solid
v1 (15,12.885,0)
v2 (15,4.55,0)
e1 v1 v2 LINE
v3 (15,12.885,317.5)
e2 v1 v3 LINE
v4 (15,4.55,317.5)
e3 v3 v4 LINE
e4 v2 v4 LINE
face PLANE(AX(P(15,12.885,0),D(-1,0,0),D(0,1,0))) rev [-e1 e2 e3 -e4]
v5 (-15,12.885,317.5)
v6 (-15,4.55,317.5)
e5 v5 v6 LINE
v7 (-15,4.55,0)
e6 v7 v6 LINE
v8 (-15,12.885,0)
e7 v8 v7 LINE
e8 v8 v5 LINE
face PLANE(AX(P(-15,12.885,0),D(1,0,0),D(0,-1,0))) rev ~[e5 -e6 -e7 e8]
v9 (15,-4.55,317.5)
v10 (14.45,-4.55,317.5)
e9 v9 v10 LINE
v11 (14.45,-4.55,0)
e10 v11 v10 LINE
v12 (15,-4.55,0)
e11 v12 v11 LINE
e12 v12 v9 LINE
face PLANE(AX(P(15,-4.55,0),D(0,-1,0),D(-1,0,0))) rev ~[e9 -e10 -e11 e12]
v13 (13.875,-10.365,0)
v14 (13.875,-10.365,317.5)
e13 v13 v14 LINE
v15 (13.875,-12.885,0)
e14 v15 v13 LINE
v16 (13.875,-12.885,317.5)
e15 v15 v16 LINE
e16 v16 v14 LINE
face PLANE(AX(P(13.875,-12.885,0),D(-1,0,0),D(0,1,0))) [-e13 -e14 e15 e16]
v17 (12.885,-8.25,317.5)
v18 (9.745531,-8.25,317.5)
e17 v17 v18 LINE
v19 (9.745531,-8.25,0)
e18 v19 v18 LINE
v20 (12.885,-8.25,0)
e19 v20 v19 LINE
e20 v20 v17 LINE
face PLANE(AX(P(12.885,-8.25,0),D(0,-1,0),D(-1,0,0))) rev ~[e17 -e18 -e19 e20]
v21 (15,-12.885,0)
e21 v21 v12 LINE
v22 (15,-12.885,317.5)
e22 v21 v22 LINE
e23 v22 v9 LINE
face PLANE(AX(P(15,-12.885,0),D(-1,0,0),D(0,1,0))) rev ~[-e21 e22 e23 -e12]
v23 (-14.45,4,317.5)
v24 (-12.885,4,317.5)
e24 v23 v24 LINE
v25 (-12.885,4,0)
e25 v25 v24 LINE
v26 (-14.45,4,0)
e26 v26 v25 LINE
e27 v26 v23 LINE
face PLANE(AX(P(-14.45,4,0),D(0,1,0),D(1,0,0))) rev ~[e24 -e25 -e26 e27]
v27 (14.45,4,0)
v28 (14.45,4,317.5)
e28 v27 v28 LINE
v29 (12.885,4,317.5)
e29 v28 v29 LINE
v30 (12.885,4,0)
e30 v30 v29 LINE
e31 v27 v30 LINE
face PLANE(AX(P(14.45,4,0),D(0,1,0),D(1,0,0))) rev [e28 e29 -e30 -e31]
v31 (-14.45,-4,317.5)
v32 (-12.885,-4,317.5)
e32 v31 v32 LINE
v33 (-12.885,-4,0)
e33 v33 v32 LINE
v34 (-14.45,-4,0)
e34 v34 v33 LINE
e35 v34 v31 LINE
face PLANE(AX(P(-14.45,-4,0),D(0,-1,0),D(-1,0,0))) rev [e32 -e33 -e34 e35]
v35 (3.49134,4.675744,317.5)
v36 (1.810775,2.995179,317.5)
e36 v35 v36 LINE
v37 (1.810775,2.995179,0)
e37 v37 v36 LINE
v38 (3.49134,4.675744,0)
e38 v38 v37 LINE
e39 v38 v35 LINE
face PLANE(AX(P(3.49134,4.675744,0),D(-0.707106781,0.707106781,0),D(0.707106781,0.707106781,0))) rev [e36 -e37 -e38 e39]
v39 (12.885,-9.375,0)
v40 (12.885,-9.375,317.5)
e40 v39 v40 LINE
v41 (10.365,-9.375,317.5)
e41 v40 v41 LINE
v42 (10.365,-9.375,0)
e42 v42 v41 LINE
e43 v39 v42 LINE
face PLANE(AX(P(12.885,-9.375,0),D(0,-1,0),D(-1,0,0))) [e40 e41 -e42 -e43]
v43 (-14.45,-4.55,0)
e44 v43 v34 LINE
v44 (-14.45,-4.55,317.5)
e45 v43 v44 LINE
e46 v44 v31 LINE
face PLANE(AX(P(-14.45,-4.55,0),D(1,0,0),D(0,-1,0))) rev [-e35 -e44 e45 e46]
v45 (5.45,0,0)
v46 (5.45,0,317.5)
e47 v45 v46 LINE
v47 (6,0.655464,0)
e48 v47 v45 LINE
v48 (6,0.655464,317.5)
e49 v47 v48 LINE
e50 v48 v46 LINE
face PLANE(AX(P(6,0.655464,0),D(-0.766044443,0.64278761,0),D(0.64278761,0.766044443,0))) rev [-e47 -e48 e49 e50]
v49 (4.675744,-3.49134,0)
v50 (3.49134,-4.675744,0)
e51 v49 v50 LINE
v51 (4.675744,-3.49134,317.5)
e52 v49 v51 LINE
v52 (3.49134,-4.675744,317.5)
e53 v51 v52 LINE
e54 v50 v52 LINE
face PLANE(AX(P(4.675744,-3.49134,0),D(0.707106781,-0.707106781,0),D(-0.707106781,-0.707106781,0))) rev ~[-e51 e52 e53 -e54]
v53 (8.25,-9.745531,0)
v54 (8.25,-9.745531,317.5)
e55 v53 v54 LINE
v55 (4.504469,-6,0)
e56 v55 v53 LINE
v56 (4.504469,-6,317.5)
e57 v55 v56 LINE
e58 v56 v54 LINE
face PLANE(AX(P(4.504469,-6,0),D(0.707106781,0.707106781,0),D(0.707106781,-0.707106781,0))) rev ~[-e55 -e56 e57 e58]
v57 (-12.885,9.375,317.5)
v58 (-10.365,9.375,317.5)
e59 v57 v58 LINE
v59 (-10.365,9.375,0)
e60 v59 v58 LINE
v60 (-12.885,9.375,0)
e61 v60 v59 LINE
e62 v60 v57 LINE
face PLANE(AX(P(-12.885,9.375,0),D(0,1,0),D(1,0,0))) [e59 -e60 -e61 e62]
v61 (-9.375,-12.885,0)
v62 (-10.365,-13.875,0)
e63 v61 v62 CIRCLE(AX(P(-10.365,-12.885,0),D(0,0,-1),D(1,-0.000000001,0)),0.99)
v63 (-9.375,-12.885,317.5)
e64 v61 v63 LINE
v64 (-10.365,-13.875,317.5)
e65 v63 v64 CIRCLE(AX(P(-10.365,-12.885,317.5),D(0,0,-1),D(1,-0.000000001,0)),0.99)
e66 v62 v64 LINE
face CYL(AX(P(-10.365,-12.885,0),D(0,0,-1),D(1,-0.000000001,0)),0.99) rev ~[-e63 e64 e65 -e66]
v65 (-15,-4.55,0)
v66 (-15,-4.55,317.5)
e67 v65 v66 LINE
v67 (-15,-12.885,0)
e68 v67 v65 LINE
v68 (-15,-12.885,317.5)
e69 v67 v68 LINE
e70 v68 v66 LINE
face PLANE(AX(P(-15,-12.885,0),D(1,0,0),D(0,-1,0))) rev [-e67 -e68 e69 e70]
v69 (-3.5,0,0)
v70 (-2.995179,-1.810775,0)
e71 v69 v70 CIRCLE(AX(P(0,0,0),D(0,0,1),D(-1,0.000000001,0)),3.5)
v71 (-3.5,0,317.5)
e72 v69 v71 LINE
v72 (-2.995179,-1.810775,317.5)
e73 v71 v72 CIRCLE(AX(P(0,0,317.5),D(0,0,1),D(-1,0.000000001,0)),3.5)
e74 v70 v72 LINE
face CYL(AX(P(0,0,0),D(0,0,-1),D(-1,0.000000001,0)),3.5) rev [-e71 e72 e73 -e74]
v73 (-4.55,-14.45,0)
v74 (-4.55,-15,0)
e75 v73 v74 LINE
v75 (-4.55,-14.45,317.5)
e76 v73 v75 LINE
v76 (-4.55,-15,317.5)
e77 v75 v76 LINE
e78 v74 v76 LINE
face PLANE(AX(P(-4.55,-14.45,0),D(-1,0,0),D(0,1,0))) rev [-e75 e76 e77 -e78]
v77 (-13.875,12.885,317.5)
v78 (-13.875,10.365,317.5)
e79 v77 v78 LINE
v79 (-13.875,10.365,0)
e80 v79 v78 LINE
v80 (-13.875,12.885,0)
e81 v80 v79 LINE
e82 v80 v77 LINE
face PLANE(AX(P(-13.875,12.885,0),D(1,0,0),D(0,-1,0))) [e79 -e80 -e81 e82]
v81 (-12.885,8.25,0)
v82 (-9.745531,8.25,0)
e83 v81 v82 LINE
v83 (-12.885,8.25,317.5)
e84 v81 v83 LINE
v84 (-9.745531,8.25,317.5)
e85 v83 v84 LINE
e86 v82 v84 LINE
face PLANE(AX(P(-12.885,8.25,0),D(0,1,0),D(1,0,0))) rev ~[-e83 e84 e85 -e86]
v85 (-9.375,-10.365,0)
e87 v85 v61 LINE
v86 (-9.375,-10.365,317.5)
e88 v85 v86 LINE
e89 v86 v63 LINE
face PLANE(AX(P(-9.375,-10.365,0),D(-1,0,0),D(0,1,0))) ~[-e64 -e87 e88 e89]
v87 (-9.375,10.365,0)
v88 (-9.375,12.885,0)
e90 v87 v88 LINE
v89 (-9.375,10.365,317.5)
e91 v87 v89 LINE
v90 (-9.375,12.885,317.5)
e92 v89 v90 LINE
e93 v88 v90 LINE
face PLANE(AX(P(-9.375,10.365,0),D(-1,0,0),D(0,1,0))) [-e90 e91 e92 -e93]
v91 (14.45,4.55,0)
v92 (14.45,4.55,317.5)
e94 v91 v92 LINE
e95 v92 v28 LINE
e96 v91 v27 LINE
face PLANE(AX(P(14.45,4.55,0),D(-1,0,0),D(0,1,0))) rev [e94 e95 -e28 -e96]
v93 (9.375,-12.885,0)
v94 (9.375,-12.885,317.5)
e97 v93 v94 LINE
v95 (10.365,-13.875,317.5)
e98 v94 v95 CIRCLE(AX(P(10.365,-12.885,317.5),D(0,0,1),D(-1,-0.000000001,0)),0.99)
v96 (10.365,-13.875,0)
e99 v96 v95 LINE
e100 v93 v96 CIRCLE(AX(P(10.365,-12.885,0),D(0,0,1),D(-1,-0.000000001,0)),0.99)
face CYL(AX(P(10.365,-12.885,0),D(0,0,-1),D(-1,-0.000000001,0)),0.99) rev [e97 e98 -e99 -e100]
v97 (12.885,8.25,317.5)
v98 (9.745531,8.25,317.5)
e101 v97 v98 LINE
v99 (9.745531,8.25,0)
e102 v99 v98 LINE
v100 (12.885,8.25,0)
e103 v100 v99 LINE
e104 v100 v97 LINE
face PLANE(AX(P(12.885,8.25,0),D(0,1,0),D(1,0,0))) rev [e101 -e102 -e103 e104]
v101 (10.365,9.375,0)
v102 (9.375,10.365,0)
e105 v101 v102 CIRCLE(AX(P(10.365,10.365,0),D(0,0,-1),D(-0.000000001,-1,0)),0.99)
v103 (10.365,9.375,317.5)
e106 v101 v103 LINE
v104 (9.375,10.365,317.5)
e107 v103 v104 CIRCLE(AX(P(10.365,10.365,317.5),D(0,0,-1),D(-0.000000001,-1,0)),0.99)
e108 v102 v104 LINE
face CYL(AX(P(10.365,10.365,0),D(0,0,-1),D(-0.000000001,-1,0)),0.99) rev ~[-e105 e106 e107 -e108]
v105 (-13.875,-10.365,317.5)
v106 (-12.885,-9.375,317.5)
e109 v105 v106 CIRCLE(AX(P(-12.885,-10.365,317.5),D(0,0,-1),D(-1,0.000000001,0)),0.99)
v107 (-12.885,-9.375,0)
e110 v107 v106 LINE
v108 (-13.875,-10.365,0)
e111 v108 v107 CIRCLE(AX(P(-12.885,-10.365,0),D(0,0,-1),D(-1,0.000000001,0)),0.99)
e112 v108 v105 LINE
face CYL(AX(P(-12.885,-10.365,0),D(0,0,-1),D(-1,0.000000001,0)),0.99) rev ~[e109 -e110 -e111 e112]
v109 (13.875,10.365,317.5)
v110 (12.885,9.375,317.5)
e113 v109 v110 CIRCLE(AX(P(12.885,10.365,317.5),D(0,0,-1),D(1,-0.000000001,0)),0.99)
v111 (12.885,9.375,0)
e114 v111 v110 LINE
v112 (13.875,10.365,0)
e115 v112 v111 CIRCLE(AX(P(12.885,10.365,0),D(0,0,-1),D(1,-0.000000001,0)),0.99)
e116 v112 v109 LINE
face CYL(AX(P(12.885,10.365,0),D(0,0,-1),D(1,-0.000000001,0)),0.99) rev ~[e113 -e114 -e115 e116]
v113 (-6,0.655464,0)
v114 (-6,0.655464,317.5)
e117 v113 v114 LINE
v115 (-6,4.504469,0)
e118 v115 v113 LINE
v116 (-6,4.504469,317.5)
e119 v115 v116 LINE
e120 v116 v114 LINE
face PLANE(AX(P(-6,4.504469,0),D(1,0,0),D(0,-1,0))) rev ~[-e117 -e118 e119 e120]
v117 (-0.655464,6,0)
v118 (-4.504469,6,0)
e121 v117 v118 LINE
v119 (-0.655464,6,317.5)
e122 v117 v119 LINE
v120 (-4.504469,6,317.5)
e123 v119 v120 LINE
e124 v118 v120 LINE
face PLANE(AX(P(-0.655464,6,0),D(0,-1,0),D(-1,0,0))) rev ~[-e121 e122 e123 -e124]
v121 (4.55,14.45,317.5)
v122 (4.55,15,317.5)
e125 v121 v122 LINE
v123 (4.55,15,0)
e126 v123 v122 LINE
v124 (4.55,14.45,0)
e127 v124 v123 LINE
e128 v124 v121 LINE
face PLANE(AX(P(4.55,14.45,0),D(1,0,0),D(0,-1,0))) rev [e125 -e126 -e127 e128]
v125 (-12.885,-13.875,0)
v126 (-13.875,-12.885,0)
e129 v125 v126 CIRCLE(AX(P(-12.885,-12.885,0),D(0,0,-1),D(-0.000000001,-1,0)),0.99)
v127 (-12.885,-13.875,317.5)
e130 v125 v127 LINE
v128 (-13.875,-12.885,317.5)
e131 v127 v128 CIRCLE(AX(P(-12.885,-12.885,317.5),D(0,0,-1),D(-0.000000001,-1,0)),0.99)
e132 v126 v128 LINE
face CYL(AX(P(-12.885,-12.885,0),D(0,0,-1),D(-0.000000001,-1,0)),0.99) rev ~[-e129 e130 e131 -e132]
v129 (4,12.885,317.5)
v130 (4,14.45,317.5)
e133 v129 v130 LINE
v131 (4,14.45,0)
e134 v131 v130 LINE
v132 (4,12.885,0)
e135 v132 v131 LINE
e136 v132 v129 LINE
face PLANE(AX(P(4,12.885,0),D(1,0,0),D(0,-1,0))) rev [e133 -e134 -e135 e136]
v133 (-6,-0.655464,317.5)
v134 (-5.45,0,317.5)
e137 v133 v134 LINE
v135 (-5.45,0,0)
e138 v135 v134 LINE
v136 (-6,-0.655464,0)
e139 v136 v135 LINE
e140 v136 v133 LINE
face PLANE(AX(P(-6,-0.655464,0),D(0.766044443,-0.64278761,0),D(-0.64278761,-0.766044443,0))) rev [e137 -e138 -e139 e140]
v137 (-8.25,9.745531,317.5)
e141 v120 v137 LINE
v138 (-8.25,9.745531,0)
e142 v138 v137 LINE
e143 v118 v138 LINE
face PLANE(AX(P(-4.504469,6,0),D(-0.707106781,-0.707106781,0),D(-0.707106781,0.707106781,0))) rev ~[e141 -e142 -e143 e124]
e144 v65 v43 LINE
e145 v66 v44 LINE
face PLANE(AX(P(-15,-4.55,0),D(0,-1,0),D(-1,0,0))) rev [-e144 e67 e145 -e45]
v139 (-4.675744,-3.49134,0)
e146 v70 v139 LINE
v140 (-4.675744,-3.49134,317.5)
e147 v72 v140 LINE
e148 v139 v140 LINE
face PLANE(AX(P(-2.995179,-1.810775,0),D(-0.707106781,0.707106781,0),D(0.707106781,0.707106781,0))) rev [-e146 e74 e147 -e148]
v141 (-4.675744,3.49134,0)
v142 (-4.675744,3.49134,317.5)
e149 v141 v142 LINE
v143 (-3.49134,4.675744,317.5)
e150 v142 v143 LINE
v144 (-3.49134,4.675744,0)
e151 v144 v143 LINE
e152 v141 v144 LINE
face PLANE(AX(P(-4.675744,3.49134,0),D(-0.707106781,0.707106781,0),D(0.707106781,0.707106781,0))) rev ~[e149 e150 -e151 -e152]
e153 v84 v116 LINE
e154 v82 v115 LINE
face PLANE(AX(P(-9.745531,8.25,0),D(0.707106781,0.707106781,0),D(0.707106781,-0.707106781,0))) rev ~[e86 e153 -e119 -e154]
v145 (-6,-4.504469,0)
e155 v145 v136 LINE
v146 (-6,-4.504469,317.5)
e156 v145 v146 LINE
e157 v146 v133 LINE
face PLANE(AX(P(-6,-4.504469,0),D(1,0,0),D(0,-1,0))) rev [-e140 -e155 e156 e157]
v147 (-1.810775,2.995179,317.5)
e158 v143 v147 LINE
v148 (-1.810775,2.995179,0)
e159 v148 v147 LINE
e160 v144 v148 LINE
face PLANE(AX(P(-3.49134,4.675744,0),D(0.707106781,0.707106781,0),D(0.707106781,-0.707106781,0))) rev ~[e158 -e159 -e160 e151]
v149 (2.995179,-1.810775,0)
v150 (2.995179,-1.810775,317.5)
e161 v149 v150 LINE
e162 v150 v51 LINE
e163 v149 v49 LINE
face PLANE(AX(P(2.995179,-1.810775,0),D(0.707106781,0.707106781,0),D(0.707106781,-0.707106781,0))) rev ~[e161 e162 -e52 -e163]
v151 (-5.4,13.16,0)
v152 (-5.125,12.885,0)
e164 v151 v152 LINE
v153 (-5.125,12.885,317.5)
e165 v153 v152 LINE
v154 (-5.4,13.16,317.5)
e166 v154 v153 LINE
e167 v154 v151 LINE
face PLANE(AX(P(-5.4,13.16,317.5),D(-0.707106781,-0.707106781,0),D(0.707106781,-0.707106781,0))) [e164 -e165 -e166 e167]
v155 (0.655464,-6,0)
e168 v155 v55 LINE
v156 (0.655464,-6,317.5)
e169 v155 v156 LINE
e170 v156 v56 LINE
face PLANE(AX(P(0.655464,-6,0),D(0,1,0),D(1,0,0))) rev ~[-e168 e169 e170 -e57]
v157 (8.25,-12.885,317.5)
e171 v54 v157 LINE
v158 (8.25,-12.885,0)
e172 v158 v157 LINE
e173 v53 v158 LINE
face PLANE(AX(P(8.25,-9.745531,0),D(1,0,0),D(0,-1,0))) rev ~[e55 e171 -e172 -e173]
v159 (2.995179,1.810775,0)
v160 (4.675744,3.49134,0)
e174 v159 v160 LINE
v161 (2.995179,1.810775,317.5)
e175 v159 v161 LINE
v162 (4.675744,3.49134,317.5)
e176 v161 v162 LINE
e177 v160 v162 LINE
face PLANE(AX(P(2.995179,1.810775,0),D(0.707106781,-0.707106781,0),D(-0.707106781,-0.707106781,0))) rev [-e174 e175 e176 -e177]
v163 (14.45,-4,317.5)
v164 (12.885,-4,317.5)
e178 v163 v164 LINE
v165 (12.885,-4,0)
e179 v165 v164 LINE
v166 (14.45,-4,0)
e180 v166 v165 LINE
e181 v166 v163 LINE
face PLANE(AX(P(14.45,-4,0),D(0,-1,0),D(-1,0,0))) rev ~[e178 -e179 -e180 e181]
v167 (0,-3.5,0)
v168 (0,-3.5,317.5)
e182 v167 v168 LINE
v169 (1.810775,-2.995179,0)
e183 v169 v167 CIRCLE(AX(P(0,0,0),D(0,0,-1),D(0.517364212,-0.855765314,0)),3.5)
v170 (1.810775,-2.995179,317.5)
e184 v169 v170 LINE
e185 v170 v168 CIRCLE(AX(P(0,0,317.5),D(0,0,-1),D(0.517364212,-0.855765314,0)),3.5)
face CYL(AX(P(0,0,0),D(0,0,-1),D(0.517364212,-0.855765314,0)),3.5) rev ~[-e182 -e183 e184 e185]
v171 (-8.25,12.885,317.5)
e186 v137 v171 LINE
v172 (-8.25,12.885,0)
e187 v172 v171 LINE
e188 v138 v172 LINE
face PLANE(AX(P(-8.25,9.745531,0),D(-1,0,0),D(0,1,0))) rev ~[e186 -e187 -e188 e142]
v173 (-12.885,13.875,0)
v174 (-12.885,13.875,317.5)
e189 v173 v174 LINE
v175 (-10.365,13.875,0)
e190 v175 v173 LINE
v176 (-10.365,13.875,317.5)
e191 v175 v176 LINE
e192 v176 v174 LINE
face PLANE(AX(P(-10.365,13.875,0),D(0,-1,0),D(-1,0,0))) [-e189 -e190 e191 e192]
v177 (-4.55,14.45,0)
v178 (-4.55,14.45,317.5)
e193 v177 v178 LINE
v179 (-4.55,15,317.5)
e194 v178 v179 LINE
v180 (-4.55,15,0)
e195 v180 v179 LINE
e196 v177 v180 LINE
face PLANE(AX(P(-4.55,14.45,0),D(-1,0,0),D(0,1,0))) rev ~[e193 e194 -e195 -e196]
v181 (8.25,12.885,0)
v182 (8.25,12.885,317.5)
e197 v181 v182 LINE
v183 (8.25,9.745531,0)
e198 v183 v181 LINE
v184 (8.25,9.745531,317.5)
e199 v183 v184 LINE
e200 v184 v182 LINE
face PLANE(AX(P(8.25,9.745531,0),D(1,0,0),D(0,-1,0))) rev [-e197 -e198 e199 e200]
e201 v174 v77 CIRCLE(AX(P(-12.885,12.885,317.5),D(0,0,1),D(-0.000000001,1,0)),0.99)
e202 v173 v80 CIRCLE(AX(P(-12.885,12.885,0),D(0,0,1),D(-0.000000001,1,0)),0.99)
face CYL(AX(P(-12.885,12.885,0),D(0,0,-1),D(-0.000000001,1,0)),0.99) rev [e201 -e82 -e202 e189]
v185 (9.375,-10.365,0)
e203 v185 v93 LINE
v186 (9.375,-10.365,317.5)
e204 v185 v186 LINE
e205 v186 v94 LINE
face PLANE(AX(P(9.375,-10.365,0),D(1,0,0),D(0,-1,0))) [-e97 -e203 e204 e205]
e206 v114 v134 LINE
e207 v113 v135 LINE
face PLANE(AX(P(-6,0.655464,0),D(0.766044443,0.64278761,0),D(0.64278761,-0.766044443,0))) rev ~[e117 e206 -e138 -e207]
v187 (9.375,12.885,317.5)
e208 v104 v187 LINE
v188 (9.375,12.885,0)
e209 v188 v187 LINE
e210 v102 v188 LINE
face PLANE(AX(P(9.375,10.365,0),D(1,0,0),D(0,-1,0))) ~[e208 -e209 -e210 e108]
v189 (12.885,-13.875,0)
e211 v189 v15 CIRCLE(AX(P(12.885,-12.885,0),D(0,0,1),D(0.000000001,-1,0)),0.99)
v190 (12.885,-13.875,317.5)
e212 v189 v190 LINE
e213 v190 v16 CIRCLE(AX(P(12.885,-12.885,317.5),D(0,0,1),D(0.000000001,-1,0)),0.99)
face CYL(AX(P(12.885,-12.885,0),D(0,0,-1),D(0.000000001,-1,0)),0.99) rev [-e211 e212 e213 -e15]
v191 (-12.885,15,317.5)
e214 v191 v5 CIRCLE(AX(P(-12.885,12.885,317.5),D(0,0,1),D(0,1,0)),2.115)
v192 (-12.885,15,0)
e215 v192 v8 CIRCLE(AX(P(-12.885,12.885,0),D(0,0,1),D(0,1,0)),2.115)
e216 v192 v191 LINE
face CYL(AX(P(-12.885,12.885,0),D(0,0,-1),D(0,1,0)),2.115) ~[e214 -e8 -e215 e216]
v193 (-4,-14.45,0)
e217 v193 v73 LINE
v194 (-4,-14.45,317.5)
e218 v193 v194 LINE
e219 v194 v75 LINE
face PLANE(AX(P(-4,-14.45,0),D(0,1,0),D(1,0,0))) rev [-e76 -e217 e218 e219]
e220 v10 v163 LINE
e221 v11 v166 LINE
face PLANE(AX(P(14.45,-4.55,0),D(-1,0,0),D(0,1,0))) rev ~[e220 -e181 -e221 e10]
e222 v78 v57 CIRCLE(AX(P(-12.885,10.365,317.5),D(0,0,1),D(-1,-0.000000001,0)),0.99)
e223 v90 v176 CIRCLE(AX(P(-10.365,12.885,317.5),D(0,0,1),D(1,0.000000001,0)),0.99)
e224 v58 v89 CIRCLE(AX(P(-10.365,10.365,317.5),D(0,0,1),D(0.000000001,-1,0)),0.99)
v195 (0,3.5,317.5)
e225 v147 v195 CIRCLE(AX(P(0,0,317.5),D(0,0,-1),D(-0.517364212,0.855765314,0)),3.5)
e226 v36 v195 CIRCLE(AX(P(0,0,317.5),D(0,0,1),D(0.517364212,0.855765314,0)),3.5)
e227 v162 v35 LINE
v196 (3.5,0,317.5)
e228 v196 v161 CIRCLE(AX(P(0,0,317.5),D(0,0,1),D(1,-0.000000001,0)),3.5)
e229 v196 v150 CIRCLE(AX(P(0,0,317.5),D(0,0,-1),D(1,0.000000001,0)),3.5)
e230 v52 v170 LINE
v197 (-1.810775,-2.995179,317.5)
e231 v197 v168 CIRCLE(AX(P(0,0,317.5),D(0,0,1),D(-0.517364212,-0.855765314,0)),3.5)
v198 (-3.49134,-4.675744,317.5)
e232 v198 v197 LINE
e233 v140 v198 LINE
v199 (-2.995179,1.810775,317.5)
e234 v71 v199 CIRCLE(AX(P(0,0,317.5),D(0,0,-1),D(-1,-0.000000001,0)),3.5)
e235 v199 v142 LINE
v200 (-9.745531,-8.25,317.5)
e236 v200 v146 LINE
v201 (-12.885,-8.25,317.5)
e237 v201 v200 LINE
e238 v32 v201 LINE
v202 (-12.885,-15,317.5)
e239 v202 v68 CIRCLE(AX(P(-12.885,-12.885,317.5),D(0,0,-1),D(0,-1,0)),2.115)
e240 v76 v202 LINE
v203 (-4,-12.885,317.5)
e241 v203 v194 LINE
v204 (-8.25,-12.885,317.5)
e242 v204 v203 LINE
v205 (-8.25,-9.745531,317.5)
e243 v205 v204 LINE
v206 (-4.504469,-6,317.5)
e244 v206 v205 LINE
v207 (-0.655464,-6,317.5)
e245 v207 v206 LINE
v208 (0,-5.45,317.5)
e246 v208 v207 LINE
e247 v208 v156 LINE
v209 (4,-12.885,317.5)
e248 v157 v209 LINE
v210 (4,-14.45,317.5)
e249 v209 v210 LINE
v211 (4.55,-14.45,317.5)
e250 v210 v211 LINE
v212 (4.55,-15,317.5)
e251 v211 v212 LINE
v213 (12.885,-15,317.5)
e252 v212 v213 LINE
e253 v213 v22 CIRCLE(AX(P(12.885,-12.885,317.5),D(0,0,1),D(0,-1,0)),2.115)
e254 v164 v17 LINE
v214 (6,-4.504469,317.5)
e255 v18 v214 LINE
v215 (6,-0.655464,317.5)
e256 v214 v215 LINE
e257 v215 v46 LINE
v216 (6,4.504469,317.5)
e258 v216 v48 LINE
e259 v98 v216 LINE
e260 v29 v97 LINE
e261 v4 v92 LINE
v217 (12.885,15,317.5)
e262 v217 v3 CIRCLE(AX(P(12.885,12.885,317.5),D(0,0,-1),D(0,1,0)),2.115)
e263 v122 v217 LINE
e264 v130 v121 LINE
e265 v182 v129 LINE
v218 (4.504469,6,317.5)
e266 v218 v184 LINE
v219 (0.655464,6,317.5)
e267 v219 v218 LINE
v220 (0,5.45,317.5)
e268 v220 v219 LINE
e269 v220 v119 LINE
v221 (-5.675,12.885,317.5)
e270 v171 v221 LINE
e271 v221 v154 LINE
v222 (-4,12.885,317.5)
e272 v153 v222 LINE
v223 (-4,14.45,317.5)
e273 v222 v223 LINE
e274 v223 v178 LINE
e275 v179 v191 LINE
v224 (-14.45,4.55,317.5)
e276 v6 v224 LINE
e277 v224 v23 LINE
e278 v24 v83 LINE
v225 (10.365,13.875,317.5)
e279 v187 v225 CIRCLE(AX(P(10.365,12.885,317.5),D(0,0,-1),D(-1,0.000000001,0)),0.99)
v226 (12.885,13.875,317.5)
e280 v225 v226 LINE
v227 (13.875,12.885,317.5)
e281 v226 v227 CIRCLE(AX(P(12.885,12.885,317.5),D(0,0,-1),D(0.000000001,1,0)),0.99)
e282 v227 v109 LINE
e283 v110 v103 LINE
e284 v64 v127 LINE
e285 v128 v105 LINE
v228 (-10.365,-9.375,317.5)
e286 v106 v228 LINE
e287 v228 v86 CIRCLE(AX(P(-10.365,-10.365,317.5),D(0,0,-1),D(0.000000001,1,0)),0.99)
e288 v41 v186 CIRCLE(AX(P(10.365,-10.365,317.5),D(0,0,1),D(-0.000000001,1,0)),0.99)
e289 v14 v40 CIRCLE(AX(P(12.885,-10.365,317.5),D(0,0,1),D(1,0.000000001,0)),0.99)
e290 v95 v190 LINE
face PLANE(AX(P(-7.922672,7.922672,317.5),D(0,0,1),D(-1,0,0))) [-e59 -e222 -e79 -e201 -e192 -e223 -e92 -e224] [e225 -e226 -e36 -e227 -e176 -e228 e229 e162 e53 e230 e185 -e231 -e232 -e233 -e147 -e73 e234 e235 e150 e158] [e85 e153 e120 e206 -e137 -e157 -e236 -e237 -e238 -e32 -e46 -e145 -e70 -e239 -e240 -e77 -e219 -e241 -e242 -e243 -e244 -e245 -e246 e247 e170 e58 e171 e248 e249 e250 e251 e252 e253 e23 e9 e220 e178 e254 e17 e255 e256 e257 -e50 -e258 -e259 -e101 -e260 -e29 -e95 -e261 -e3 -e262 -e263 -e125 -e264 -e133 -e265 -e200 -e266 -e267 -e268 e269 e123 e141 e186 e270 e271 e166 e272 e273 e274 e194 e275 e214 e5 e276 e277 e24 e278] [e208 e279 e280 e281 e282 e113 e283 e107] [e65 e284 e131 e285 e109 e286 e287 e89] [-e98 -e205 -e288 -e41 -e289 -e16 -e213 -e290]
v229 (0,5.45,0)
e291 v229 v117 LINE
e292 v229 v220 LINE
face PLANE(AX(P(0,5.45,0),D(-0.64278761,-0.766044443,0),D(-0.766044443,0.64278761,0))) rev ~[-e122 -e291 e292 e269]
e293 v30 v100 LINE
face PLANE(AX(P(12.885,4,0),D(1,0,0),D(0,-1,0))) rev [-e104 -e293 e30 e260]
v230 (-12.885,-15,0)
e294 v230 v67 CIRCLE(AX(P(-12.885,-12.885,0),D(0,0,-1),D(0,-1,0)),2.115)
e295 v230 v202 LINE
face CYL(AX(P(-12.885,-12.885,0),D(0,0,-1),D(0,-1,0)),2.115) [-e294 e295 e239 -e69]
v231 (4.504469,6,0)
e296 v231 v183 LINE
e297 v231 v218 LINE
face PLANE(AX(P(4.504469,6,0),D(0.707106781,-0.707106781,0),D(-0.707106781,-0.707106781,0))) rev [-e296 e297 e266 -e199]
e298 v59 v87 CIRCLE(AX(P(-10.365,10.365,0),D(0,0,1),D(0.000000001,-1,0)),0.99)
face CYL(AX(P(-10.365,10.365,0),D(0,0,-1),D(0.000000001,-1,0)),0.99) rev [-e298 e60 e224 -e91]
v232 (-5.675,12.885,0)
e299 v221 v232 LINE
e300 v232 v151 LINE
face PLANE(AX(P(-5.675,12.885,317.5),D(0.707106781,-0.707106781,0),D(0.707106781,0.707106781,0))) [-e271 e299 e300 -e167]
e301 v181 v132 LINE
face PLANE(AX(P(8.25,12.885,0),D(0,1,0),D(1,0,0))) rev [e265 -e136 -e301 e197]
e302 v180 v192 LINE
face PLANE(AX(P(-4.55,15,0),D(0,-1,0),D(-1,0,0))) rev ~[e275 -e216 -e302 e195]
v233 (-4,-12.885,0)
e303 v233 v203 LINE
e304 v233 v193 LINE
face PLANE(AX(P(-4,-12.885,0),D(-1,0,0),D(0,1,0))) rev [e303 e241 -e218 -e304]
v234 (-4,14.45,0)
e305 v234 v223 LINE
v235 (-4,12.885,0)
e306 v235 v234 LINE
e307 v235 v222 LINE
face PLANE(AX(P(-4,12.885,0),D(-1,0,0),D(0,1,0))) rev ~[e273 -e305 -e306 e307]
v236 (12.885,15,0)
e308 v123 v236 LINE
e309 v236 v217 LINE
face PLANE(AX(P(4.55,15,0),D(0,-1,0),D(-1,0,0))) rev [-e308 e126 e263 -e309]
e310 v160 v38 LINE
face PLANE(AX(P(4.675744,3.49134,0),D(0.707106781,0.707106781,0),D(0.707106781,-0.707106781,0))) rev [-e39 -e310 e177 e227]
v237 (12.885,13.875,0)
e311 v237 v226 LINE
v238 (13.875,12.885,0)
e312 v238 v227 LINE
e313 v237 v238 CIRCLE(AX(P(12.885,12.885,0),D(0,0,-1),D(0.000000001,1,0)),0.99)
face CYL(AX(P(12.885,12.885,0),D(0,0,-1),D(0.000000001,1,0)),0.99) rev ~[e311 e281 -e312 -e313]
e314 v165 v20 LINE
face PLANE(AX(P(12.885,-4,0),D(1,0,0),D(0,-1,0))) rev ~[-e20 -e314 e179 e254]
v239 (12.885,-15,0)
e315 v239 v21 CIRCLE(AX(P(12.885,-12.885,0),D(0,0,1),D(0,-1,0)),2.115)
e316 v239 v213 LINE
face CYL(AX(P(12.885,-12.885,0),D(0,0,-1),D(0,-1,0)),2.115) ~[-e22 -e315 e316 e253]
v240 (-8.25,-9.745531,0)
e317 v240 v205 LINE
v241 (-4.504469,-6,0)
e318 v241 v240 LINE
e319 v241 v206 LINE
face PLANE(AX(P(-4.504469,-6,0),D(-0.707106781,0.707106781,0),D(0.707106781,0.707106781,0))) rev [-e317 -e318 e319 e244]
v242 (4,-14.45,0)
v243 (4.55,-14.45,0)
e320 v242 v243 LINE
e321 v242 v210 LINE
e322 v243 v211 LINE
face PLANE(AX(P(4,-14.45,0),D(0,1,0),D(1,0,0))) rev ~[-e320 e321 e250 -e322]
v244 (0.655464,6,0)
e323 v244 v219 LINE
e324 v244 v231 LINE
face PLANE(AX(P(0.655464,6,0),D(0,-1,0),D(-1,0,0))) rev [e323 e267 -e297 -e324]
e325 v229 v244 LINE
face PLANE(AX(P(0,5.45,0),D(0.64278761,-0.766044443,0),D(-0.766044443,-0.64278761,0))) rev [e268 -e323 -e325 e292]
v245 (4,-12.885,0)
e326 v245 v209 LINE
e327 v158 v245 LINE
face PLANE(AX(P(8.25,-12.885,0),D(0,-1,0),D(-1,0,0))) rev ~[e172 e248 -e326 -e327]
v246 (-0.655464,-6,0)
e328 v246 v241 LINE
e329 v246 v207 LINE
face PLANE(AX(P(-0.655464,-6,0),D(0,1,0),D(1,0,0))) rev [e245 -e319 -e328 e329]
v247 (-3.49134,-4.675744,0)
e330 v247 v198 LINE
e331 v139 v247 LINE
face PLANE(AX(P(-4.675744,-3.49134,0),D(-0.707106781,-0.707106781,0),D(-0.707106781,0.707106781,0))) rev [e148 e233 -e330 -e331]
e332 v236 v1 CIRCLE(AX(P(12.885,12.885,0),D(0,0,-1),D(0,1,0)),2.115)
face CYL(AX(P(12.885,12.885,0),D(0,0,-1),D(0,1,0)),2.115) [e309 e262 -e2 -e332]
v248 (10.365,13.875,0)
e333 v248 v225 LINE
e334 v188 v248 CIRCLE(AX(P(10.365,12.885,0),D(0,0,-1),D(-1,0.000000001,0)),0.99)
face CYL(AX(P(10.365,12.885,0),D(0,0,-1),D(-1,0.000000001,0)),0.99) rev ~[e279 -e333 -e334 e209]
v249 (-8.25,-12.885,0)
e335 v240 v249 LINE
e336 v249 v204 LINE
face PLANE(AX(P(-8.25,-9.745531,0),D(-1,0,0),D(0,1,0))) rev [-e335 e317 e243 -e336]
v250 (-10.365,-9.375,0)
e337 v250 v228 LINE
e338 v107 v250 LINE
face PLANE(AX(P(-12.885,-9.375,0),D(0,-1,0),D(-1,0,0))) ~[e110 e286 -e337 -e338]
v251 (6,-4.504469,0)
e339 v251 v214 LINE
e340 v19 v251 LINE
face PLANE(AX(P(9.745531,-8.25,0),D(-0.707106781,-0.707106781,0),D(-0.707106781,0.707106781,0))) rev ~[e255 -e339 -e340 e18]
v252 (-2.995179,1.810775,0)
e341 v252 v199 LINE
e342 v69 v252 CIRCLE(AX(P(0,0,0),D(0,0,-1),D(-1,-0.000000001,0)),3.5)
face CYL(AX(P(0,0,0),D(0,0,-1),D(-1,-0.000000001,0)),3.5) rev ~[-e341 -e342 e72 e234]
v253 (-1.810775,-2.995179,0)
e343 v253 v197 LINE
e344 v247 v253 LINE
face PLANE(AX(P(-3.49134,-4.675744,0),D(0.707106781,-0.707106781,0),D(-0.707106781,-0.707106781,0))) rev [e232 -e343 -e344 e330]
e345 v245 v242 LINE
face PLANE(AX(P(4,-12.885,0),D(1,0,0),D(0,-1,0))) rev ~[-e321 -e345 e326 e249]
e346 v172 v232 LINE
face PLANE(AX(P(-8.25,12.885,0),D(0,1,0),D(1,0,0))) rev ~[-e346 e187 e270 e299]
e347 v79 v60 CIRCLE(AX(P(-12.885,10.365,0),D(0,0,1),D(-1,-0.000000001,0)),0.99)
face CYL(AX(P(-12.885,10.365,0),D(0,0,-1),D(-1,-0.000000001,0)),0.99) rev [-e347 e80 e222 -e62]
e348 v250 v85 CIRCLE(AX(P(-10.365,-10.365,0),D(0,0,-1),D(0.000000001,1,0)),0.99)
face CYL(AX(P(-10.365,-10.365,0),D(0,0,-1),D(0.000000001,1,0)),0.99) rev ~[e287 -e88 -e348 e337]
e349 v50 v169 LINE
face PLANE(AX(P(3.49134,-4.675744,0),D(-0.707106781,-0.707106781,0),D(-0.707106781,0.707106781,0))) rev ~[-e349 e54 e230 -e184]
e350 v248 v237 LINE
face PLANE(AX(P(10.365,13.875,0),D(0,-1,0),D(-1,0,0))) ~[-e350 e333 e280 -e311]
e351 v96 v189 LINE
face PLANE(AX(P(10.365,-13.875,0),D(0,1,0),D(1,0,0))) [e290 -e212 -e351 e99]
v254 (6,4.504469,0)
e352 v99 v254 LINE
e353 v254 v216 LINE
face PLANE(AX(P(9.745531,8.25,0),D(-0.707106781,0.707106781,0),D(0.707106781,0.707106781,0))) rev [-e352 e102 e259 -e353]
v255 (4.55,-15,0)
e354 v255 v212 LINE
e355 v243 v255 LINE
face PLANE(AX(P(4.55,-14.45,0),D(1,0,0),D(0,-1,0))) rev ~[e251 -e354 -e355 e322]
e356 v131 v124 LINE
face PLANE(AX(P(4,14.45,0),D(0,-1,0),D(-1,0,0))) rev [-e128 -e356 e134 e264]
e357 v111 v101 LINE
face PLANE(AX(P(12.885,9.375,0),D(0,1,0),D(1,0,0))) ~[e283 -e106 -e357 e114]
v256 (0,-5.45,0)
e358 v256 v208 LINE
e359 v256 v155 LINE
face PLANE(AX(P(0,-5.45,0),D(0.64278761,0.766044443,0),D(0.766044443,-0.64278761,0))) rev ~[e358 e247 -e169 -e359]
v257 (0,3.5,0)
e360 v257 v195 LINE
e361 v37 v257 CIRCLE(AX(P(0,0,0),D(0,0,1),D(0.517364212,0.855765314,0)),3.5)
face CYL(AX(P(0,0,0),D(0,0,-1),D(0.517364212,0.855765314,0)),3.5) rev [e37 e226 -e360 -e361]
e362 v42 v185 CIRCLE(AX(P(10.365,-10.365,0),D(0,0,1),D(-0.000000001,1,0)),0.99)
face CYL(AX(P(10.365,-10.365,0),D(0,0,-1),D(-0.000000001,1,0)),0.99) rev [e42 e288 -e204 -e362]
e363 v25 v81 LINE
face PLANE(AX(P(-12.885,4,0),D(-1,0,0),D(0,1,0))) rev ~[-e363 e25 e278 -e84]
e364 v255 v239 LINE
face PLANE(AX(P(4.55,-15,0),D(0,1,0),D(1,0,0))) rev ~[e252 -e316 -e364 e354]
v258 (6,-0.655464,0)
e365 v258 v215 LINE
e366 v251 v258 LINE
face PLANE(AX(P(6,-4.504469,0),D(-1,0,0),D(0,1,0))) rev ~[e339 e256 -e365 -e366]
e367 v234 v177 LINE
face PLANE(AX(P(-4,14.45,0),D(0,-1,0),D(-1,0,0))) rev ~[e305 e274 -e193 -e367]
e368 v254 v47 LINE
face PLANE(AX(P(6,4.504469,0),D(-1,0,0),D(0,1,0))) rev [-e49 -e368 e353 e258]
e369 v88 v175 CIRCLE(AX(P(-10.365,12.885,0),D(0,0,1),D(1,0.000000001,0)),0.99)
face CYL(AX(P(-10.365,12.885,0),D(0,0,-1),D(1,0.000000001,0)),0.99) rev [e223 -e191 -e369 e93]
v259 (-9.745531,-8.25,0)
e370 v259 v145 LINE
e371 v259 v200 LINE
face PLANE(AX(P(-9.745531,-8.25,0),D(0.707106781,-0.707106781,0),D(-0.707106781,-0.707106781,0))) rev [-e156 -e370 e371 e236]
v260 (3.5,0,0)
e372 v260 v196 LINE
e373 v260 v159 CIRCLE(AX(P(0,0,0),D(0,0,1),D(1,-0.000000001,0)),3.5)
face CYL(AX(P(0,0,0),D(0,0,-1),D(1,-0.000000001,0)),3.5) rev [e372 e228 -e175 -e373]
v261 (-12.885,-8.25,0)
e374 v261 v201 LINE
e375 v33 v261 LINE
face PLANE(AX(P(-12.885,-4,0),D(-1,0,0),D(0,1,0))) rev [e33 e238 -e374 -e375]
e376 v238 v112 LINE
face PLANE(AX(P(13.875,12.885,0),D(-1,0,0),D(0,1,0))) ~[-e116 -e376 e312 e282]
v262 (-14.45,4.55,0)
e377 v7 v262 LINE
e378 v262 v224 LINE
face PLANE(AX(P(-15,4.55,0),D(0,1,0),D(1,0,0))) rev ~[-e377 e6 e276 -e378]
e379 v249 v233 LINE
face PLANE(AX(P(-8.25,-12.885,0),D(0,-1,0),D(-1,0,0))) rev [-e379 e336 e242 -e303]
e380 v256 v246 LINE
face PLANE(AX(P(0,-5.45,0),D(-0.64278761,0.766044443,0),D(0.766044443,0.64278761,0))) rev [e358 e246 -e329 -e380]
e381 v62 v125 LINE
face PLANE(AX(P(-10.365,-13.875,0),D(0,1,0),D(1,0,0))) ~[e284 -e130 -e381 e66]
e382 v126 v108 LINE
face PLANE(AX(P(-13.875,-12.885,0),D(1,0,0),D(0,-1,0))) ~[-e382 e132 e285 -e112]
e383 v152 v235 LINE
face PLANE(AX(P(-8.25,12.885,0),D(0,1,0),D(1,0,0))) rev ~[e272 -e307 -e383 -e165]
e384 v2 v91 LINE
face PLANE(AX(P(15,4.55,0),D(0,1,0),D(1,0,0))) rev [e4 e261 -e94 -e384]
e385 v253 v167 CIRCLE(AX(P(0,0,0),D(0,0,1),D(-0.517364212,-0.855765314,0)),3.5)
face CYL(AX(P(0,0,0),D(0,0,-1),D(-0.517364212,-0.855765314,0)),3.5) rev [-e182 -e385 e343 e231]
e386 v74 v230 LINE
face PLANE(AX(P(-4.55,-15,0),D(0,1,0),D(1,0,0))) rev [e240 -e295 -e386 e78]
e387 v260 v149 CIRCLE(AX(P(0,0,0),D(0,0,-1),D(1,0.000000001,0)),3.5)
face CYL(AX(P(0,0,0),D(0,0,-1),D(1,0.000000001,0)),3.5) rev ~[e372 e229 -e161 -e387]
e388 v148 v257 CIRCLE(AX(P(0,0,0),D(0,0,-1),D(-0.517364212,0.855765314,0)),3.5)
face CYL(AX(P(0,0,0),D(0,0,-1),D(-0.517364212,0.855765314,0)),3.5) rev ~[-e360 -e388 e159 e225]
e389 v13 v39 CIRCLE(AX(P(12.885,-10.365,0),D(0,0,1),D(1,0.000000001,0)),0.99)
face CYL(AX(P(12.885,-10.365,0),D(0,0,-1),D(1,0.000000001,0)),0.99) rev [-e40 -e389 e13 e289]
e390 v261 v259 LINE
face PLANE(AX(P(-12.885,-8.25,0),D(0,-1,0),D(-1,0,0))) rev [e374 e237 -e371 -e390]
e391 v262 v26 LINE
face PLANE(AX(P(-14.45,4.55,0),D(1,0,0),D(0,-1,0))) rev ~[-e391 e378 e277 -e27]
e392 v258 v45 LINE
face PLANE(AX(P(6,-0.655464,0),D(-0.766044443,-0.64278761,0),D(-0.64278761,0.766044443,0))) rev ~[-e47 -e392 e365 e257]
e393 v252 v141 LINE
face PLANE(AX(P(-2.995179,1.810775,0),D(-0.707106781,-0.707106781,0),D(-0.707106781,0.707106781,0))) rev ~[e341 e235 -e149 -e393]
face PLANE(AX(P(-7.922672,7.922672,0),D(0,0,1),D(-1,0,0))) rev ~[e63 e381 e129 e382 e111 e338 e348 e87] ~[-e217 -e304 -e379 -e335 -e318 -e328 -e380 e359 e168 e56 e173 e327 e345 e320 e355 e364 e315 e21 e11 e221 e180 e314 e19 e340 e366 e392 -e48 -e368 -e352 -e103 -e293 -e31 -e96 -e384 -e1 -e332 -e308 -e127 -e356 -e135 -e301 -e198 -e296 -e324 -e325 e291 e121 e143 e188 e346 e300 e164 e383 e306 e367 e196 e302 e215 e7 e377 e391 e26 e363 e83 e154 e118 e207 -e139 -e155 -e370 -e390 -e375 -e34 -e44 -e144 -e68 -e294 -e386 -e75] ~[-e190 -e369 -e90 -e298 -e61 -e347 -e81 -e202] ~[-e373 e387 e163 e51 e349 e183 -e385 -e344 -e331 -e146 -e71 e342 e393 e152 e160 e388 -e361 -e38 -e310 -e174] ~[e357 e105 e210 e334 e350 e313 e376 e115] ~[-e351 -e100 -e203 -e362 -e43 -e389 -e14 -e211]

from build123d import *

# Parameters (mm, degrees)
BOSS_EXTRUDE1_DEPTH     = 317.5
CUT_EXTRUDE1_DEPTH      = 1
CUT_EXTRUDE1_DEPTH_BACK = 318.5


with BuildPart() as part:
    # Sketch4 → Boss-Extrude1 (new body)
    with BuildSketch(Plane.XY):
        with BuildLine():
            Line((0, -5.45), (0.655464476, -6))
            Line((0.655464476, -6), (4.504469158, -6))
            Line((4.504469158, -6), (8.25, -9.745530842))
            Line((8.25, -9.745530842), (8.25, -12.885))
            Line((8.25, -12.885), (4, -12.885))
            Line((4, -12.885), (4, -14.45))
            Line((4, -14.45), (4.55, -14.45))
            Line((4.55, -14.45), (4.55, -15))
            Line((4.55, -15), (12.885, -15))
            ThreePointArc((12.885, -15), (14.380530842, -14.380530842), (15, -12.885))
            Line((15, -12.885), (15, -4.55))
            Line((15, -4.55), (14.45, -4.55))
            Line((14.45, -4.55), (14.45, -4))
            Line((14.45, -4), (12.885, -4))
            Line((12.885, -4), (12.885, -8.25))
            Line((12.885, -8.25), (9.745530842, -8.25))
            Line((9.745530842, -8.25), (6, -4.504469158))
            Line((6, -4.504469158), (6, -0.655464476))
            Line((6, -0.655464476), (5.45, 0))
            Line((5.45, 0), (3.5, 0))
            ThreePointArc((3.5, 0), (3.371433308, -0.939913534), (2.995178599, -1.81077474))
            Line((2.995178599, -1.81077474), (4.675743591, -3.491339732))
            Line((4.675743591, -3.491339732), (3.491339732, -4.675743591))
            Line((3.491339732, -4.675743591), (1.81077474, -2.995178599))
            ThreePointArc((1.81077474, -2.995178599), (0.939913534, -3.371433308), (0, -3.5))
            Line((0, -3.5), (0, -5.45))
        make_face()
        with BuildLine():
            Line((9.375, -10.365), (9.375, -12.885))
            ThreePointArc((9.375, -12.885), (9.664964287, -13.585035713), (10.365, -13.875))
            Line((10.365, -13.875), (12.885, -13.875))
            ThreePointArc((12.885, -13.875), (13.585035713, -13.585035713), (13.875, -12.885))
            Line((13.875, -12.885), (13.875, -10.365))
            ThreePointArc((13.875, -10.365), (13.585035713, -9.664964287), (12.885, -9.375))
            Line((12.885, -9.375), (10.365, -9.375))
            ThreePointArc((10.365, -9.375), (9.664964287, -9.664964287), (9.375, -10.365))
        make_face(mode=Mode.SUBTRACT)
    extrude(amount=BOSS_EXTRUDE1_DEPTH)

    # Mirror1: part across plane


with BuildPart() as part_1:
    add(part.part)
    add(part.part.mirror(Plane(origin=(0, 0, 0), x_dir=(0, 0, 1), z_dir=(1, 0, 0))))

    # Mirror2: part across plane


with BuildPart() as part_2:
    add(part_1.part)
    add(part_1.part.mirror(Plane.ZX))

    # Sketch5 → Cut-Extrude1 (cut, two sides)
    with BuildSketch(Plane.XY.offset(317.5)) as cut_extrude1_sk:
        Polygon((-5.675, 12.885), (-5.4, 13.16), (-5.125, 12.885), align=None)
    extrude(amount=CUT_EXTRUDE1_DEPTH, mode=Mode.SUBTRACT)
    extrude(cut_extrude1_sk.sketch, amount=-CUT_EXTRUDE1_DEPTH_BACK, mode=Mode.SUBTRACT)


solid = part_2.part
